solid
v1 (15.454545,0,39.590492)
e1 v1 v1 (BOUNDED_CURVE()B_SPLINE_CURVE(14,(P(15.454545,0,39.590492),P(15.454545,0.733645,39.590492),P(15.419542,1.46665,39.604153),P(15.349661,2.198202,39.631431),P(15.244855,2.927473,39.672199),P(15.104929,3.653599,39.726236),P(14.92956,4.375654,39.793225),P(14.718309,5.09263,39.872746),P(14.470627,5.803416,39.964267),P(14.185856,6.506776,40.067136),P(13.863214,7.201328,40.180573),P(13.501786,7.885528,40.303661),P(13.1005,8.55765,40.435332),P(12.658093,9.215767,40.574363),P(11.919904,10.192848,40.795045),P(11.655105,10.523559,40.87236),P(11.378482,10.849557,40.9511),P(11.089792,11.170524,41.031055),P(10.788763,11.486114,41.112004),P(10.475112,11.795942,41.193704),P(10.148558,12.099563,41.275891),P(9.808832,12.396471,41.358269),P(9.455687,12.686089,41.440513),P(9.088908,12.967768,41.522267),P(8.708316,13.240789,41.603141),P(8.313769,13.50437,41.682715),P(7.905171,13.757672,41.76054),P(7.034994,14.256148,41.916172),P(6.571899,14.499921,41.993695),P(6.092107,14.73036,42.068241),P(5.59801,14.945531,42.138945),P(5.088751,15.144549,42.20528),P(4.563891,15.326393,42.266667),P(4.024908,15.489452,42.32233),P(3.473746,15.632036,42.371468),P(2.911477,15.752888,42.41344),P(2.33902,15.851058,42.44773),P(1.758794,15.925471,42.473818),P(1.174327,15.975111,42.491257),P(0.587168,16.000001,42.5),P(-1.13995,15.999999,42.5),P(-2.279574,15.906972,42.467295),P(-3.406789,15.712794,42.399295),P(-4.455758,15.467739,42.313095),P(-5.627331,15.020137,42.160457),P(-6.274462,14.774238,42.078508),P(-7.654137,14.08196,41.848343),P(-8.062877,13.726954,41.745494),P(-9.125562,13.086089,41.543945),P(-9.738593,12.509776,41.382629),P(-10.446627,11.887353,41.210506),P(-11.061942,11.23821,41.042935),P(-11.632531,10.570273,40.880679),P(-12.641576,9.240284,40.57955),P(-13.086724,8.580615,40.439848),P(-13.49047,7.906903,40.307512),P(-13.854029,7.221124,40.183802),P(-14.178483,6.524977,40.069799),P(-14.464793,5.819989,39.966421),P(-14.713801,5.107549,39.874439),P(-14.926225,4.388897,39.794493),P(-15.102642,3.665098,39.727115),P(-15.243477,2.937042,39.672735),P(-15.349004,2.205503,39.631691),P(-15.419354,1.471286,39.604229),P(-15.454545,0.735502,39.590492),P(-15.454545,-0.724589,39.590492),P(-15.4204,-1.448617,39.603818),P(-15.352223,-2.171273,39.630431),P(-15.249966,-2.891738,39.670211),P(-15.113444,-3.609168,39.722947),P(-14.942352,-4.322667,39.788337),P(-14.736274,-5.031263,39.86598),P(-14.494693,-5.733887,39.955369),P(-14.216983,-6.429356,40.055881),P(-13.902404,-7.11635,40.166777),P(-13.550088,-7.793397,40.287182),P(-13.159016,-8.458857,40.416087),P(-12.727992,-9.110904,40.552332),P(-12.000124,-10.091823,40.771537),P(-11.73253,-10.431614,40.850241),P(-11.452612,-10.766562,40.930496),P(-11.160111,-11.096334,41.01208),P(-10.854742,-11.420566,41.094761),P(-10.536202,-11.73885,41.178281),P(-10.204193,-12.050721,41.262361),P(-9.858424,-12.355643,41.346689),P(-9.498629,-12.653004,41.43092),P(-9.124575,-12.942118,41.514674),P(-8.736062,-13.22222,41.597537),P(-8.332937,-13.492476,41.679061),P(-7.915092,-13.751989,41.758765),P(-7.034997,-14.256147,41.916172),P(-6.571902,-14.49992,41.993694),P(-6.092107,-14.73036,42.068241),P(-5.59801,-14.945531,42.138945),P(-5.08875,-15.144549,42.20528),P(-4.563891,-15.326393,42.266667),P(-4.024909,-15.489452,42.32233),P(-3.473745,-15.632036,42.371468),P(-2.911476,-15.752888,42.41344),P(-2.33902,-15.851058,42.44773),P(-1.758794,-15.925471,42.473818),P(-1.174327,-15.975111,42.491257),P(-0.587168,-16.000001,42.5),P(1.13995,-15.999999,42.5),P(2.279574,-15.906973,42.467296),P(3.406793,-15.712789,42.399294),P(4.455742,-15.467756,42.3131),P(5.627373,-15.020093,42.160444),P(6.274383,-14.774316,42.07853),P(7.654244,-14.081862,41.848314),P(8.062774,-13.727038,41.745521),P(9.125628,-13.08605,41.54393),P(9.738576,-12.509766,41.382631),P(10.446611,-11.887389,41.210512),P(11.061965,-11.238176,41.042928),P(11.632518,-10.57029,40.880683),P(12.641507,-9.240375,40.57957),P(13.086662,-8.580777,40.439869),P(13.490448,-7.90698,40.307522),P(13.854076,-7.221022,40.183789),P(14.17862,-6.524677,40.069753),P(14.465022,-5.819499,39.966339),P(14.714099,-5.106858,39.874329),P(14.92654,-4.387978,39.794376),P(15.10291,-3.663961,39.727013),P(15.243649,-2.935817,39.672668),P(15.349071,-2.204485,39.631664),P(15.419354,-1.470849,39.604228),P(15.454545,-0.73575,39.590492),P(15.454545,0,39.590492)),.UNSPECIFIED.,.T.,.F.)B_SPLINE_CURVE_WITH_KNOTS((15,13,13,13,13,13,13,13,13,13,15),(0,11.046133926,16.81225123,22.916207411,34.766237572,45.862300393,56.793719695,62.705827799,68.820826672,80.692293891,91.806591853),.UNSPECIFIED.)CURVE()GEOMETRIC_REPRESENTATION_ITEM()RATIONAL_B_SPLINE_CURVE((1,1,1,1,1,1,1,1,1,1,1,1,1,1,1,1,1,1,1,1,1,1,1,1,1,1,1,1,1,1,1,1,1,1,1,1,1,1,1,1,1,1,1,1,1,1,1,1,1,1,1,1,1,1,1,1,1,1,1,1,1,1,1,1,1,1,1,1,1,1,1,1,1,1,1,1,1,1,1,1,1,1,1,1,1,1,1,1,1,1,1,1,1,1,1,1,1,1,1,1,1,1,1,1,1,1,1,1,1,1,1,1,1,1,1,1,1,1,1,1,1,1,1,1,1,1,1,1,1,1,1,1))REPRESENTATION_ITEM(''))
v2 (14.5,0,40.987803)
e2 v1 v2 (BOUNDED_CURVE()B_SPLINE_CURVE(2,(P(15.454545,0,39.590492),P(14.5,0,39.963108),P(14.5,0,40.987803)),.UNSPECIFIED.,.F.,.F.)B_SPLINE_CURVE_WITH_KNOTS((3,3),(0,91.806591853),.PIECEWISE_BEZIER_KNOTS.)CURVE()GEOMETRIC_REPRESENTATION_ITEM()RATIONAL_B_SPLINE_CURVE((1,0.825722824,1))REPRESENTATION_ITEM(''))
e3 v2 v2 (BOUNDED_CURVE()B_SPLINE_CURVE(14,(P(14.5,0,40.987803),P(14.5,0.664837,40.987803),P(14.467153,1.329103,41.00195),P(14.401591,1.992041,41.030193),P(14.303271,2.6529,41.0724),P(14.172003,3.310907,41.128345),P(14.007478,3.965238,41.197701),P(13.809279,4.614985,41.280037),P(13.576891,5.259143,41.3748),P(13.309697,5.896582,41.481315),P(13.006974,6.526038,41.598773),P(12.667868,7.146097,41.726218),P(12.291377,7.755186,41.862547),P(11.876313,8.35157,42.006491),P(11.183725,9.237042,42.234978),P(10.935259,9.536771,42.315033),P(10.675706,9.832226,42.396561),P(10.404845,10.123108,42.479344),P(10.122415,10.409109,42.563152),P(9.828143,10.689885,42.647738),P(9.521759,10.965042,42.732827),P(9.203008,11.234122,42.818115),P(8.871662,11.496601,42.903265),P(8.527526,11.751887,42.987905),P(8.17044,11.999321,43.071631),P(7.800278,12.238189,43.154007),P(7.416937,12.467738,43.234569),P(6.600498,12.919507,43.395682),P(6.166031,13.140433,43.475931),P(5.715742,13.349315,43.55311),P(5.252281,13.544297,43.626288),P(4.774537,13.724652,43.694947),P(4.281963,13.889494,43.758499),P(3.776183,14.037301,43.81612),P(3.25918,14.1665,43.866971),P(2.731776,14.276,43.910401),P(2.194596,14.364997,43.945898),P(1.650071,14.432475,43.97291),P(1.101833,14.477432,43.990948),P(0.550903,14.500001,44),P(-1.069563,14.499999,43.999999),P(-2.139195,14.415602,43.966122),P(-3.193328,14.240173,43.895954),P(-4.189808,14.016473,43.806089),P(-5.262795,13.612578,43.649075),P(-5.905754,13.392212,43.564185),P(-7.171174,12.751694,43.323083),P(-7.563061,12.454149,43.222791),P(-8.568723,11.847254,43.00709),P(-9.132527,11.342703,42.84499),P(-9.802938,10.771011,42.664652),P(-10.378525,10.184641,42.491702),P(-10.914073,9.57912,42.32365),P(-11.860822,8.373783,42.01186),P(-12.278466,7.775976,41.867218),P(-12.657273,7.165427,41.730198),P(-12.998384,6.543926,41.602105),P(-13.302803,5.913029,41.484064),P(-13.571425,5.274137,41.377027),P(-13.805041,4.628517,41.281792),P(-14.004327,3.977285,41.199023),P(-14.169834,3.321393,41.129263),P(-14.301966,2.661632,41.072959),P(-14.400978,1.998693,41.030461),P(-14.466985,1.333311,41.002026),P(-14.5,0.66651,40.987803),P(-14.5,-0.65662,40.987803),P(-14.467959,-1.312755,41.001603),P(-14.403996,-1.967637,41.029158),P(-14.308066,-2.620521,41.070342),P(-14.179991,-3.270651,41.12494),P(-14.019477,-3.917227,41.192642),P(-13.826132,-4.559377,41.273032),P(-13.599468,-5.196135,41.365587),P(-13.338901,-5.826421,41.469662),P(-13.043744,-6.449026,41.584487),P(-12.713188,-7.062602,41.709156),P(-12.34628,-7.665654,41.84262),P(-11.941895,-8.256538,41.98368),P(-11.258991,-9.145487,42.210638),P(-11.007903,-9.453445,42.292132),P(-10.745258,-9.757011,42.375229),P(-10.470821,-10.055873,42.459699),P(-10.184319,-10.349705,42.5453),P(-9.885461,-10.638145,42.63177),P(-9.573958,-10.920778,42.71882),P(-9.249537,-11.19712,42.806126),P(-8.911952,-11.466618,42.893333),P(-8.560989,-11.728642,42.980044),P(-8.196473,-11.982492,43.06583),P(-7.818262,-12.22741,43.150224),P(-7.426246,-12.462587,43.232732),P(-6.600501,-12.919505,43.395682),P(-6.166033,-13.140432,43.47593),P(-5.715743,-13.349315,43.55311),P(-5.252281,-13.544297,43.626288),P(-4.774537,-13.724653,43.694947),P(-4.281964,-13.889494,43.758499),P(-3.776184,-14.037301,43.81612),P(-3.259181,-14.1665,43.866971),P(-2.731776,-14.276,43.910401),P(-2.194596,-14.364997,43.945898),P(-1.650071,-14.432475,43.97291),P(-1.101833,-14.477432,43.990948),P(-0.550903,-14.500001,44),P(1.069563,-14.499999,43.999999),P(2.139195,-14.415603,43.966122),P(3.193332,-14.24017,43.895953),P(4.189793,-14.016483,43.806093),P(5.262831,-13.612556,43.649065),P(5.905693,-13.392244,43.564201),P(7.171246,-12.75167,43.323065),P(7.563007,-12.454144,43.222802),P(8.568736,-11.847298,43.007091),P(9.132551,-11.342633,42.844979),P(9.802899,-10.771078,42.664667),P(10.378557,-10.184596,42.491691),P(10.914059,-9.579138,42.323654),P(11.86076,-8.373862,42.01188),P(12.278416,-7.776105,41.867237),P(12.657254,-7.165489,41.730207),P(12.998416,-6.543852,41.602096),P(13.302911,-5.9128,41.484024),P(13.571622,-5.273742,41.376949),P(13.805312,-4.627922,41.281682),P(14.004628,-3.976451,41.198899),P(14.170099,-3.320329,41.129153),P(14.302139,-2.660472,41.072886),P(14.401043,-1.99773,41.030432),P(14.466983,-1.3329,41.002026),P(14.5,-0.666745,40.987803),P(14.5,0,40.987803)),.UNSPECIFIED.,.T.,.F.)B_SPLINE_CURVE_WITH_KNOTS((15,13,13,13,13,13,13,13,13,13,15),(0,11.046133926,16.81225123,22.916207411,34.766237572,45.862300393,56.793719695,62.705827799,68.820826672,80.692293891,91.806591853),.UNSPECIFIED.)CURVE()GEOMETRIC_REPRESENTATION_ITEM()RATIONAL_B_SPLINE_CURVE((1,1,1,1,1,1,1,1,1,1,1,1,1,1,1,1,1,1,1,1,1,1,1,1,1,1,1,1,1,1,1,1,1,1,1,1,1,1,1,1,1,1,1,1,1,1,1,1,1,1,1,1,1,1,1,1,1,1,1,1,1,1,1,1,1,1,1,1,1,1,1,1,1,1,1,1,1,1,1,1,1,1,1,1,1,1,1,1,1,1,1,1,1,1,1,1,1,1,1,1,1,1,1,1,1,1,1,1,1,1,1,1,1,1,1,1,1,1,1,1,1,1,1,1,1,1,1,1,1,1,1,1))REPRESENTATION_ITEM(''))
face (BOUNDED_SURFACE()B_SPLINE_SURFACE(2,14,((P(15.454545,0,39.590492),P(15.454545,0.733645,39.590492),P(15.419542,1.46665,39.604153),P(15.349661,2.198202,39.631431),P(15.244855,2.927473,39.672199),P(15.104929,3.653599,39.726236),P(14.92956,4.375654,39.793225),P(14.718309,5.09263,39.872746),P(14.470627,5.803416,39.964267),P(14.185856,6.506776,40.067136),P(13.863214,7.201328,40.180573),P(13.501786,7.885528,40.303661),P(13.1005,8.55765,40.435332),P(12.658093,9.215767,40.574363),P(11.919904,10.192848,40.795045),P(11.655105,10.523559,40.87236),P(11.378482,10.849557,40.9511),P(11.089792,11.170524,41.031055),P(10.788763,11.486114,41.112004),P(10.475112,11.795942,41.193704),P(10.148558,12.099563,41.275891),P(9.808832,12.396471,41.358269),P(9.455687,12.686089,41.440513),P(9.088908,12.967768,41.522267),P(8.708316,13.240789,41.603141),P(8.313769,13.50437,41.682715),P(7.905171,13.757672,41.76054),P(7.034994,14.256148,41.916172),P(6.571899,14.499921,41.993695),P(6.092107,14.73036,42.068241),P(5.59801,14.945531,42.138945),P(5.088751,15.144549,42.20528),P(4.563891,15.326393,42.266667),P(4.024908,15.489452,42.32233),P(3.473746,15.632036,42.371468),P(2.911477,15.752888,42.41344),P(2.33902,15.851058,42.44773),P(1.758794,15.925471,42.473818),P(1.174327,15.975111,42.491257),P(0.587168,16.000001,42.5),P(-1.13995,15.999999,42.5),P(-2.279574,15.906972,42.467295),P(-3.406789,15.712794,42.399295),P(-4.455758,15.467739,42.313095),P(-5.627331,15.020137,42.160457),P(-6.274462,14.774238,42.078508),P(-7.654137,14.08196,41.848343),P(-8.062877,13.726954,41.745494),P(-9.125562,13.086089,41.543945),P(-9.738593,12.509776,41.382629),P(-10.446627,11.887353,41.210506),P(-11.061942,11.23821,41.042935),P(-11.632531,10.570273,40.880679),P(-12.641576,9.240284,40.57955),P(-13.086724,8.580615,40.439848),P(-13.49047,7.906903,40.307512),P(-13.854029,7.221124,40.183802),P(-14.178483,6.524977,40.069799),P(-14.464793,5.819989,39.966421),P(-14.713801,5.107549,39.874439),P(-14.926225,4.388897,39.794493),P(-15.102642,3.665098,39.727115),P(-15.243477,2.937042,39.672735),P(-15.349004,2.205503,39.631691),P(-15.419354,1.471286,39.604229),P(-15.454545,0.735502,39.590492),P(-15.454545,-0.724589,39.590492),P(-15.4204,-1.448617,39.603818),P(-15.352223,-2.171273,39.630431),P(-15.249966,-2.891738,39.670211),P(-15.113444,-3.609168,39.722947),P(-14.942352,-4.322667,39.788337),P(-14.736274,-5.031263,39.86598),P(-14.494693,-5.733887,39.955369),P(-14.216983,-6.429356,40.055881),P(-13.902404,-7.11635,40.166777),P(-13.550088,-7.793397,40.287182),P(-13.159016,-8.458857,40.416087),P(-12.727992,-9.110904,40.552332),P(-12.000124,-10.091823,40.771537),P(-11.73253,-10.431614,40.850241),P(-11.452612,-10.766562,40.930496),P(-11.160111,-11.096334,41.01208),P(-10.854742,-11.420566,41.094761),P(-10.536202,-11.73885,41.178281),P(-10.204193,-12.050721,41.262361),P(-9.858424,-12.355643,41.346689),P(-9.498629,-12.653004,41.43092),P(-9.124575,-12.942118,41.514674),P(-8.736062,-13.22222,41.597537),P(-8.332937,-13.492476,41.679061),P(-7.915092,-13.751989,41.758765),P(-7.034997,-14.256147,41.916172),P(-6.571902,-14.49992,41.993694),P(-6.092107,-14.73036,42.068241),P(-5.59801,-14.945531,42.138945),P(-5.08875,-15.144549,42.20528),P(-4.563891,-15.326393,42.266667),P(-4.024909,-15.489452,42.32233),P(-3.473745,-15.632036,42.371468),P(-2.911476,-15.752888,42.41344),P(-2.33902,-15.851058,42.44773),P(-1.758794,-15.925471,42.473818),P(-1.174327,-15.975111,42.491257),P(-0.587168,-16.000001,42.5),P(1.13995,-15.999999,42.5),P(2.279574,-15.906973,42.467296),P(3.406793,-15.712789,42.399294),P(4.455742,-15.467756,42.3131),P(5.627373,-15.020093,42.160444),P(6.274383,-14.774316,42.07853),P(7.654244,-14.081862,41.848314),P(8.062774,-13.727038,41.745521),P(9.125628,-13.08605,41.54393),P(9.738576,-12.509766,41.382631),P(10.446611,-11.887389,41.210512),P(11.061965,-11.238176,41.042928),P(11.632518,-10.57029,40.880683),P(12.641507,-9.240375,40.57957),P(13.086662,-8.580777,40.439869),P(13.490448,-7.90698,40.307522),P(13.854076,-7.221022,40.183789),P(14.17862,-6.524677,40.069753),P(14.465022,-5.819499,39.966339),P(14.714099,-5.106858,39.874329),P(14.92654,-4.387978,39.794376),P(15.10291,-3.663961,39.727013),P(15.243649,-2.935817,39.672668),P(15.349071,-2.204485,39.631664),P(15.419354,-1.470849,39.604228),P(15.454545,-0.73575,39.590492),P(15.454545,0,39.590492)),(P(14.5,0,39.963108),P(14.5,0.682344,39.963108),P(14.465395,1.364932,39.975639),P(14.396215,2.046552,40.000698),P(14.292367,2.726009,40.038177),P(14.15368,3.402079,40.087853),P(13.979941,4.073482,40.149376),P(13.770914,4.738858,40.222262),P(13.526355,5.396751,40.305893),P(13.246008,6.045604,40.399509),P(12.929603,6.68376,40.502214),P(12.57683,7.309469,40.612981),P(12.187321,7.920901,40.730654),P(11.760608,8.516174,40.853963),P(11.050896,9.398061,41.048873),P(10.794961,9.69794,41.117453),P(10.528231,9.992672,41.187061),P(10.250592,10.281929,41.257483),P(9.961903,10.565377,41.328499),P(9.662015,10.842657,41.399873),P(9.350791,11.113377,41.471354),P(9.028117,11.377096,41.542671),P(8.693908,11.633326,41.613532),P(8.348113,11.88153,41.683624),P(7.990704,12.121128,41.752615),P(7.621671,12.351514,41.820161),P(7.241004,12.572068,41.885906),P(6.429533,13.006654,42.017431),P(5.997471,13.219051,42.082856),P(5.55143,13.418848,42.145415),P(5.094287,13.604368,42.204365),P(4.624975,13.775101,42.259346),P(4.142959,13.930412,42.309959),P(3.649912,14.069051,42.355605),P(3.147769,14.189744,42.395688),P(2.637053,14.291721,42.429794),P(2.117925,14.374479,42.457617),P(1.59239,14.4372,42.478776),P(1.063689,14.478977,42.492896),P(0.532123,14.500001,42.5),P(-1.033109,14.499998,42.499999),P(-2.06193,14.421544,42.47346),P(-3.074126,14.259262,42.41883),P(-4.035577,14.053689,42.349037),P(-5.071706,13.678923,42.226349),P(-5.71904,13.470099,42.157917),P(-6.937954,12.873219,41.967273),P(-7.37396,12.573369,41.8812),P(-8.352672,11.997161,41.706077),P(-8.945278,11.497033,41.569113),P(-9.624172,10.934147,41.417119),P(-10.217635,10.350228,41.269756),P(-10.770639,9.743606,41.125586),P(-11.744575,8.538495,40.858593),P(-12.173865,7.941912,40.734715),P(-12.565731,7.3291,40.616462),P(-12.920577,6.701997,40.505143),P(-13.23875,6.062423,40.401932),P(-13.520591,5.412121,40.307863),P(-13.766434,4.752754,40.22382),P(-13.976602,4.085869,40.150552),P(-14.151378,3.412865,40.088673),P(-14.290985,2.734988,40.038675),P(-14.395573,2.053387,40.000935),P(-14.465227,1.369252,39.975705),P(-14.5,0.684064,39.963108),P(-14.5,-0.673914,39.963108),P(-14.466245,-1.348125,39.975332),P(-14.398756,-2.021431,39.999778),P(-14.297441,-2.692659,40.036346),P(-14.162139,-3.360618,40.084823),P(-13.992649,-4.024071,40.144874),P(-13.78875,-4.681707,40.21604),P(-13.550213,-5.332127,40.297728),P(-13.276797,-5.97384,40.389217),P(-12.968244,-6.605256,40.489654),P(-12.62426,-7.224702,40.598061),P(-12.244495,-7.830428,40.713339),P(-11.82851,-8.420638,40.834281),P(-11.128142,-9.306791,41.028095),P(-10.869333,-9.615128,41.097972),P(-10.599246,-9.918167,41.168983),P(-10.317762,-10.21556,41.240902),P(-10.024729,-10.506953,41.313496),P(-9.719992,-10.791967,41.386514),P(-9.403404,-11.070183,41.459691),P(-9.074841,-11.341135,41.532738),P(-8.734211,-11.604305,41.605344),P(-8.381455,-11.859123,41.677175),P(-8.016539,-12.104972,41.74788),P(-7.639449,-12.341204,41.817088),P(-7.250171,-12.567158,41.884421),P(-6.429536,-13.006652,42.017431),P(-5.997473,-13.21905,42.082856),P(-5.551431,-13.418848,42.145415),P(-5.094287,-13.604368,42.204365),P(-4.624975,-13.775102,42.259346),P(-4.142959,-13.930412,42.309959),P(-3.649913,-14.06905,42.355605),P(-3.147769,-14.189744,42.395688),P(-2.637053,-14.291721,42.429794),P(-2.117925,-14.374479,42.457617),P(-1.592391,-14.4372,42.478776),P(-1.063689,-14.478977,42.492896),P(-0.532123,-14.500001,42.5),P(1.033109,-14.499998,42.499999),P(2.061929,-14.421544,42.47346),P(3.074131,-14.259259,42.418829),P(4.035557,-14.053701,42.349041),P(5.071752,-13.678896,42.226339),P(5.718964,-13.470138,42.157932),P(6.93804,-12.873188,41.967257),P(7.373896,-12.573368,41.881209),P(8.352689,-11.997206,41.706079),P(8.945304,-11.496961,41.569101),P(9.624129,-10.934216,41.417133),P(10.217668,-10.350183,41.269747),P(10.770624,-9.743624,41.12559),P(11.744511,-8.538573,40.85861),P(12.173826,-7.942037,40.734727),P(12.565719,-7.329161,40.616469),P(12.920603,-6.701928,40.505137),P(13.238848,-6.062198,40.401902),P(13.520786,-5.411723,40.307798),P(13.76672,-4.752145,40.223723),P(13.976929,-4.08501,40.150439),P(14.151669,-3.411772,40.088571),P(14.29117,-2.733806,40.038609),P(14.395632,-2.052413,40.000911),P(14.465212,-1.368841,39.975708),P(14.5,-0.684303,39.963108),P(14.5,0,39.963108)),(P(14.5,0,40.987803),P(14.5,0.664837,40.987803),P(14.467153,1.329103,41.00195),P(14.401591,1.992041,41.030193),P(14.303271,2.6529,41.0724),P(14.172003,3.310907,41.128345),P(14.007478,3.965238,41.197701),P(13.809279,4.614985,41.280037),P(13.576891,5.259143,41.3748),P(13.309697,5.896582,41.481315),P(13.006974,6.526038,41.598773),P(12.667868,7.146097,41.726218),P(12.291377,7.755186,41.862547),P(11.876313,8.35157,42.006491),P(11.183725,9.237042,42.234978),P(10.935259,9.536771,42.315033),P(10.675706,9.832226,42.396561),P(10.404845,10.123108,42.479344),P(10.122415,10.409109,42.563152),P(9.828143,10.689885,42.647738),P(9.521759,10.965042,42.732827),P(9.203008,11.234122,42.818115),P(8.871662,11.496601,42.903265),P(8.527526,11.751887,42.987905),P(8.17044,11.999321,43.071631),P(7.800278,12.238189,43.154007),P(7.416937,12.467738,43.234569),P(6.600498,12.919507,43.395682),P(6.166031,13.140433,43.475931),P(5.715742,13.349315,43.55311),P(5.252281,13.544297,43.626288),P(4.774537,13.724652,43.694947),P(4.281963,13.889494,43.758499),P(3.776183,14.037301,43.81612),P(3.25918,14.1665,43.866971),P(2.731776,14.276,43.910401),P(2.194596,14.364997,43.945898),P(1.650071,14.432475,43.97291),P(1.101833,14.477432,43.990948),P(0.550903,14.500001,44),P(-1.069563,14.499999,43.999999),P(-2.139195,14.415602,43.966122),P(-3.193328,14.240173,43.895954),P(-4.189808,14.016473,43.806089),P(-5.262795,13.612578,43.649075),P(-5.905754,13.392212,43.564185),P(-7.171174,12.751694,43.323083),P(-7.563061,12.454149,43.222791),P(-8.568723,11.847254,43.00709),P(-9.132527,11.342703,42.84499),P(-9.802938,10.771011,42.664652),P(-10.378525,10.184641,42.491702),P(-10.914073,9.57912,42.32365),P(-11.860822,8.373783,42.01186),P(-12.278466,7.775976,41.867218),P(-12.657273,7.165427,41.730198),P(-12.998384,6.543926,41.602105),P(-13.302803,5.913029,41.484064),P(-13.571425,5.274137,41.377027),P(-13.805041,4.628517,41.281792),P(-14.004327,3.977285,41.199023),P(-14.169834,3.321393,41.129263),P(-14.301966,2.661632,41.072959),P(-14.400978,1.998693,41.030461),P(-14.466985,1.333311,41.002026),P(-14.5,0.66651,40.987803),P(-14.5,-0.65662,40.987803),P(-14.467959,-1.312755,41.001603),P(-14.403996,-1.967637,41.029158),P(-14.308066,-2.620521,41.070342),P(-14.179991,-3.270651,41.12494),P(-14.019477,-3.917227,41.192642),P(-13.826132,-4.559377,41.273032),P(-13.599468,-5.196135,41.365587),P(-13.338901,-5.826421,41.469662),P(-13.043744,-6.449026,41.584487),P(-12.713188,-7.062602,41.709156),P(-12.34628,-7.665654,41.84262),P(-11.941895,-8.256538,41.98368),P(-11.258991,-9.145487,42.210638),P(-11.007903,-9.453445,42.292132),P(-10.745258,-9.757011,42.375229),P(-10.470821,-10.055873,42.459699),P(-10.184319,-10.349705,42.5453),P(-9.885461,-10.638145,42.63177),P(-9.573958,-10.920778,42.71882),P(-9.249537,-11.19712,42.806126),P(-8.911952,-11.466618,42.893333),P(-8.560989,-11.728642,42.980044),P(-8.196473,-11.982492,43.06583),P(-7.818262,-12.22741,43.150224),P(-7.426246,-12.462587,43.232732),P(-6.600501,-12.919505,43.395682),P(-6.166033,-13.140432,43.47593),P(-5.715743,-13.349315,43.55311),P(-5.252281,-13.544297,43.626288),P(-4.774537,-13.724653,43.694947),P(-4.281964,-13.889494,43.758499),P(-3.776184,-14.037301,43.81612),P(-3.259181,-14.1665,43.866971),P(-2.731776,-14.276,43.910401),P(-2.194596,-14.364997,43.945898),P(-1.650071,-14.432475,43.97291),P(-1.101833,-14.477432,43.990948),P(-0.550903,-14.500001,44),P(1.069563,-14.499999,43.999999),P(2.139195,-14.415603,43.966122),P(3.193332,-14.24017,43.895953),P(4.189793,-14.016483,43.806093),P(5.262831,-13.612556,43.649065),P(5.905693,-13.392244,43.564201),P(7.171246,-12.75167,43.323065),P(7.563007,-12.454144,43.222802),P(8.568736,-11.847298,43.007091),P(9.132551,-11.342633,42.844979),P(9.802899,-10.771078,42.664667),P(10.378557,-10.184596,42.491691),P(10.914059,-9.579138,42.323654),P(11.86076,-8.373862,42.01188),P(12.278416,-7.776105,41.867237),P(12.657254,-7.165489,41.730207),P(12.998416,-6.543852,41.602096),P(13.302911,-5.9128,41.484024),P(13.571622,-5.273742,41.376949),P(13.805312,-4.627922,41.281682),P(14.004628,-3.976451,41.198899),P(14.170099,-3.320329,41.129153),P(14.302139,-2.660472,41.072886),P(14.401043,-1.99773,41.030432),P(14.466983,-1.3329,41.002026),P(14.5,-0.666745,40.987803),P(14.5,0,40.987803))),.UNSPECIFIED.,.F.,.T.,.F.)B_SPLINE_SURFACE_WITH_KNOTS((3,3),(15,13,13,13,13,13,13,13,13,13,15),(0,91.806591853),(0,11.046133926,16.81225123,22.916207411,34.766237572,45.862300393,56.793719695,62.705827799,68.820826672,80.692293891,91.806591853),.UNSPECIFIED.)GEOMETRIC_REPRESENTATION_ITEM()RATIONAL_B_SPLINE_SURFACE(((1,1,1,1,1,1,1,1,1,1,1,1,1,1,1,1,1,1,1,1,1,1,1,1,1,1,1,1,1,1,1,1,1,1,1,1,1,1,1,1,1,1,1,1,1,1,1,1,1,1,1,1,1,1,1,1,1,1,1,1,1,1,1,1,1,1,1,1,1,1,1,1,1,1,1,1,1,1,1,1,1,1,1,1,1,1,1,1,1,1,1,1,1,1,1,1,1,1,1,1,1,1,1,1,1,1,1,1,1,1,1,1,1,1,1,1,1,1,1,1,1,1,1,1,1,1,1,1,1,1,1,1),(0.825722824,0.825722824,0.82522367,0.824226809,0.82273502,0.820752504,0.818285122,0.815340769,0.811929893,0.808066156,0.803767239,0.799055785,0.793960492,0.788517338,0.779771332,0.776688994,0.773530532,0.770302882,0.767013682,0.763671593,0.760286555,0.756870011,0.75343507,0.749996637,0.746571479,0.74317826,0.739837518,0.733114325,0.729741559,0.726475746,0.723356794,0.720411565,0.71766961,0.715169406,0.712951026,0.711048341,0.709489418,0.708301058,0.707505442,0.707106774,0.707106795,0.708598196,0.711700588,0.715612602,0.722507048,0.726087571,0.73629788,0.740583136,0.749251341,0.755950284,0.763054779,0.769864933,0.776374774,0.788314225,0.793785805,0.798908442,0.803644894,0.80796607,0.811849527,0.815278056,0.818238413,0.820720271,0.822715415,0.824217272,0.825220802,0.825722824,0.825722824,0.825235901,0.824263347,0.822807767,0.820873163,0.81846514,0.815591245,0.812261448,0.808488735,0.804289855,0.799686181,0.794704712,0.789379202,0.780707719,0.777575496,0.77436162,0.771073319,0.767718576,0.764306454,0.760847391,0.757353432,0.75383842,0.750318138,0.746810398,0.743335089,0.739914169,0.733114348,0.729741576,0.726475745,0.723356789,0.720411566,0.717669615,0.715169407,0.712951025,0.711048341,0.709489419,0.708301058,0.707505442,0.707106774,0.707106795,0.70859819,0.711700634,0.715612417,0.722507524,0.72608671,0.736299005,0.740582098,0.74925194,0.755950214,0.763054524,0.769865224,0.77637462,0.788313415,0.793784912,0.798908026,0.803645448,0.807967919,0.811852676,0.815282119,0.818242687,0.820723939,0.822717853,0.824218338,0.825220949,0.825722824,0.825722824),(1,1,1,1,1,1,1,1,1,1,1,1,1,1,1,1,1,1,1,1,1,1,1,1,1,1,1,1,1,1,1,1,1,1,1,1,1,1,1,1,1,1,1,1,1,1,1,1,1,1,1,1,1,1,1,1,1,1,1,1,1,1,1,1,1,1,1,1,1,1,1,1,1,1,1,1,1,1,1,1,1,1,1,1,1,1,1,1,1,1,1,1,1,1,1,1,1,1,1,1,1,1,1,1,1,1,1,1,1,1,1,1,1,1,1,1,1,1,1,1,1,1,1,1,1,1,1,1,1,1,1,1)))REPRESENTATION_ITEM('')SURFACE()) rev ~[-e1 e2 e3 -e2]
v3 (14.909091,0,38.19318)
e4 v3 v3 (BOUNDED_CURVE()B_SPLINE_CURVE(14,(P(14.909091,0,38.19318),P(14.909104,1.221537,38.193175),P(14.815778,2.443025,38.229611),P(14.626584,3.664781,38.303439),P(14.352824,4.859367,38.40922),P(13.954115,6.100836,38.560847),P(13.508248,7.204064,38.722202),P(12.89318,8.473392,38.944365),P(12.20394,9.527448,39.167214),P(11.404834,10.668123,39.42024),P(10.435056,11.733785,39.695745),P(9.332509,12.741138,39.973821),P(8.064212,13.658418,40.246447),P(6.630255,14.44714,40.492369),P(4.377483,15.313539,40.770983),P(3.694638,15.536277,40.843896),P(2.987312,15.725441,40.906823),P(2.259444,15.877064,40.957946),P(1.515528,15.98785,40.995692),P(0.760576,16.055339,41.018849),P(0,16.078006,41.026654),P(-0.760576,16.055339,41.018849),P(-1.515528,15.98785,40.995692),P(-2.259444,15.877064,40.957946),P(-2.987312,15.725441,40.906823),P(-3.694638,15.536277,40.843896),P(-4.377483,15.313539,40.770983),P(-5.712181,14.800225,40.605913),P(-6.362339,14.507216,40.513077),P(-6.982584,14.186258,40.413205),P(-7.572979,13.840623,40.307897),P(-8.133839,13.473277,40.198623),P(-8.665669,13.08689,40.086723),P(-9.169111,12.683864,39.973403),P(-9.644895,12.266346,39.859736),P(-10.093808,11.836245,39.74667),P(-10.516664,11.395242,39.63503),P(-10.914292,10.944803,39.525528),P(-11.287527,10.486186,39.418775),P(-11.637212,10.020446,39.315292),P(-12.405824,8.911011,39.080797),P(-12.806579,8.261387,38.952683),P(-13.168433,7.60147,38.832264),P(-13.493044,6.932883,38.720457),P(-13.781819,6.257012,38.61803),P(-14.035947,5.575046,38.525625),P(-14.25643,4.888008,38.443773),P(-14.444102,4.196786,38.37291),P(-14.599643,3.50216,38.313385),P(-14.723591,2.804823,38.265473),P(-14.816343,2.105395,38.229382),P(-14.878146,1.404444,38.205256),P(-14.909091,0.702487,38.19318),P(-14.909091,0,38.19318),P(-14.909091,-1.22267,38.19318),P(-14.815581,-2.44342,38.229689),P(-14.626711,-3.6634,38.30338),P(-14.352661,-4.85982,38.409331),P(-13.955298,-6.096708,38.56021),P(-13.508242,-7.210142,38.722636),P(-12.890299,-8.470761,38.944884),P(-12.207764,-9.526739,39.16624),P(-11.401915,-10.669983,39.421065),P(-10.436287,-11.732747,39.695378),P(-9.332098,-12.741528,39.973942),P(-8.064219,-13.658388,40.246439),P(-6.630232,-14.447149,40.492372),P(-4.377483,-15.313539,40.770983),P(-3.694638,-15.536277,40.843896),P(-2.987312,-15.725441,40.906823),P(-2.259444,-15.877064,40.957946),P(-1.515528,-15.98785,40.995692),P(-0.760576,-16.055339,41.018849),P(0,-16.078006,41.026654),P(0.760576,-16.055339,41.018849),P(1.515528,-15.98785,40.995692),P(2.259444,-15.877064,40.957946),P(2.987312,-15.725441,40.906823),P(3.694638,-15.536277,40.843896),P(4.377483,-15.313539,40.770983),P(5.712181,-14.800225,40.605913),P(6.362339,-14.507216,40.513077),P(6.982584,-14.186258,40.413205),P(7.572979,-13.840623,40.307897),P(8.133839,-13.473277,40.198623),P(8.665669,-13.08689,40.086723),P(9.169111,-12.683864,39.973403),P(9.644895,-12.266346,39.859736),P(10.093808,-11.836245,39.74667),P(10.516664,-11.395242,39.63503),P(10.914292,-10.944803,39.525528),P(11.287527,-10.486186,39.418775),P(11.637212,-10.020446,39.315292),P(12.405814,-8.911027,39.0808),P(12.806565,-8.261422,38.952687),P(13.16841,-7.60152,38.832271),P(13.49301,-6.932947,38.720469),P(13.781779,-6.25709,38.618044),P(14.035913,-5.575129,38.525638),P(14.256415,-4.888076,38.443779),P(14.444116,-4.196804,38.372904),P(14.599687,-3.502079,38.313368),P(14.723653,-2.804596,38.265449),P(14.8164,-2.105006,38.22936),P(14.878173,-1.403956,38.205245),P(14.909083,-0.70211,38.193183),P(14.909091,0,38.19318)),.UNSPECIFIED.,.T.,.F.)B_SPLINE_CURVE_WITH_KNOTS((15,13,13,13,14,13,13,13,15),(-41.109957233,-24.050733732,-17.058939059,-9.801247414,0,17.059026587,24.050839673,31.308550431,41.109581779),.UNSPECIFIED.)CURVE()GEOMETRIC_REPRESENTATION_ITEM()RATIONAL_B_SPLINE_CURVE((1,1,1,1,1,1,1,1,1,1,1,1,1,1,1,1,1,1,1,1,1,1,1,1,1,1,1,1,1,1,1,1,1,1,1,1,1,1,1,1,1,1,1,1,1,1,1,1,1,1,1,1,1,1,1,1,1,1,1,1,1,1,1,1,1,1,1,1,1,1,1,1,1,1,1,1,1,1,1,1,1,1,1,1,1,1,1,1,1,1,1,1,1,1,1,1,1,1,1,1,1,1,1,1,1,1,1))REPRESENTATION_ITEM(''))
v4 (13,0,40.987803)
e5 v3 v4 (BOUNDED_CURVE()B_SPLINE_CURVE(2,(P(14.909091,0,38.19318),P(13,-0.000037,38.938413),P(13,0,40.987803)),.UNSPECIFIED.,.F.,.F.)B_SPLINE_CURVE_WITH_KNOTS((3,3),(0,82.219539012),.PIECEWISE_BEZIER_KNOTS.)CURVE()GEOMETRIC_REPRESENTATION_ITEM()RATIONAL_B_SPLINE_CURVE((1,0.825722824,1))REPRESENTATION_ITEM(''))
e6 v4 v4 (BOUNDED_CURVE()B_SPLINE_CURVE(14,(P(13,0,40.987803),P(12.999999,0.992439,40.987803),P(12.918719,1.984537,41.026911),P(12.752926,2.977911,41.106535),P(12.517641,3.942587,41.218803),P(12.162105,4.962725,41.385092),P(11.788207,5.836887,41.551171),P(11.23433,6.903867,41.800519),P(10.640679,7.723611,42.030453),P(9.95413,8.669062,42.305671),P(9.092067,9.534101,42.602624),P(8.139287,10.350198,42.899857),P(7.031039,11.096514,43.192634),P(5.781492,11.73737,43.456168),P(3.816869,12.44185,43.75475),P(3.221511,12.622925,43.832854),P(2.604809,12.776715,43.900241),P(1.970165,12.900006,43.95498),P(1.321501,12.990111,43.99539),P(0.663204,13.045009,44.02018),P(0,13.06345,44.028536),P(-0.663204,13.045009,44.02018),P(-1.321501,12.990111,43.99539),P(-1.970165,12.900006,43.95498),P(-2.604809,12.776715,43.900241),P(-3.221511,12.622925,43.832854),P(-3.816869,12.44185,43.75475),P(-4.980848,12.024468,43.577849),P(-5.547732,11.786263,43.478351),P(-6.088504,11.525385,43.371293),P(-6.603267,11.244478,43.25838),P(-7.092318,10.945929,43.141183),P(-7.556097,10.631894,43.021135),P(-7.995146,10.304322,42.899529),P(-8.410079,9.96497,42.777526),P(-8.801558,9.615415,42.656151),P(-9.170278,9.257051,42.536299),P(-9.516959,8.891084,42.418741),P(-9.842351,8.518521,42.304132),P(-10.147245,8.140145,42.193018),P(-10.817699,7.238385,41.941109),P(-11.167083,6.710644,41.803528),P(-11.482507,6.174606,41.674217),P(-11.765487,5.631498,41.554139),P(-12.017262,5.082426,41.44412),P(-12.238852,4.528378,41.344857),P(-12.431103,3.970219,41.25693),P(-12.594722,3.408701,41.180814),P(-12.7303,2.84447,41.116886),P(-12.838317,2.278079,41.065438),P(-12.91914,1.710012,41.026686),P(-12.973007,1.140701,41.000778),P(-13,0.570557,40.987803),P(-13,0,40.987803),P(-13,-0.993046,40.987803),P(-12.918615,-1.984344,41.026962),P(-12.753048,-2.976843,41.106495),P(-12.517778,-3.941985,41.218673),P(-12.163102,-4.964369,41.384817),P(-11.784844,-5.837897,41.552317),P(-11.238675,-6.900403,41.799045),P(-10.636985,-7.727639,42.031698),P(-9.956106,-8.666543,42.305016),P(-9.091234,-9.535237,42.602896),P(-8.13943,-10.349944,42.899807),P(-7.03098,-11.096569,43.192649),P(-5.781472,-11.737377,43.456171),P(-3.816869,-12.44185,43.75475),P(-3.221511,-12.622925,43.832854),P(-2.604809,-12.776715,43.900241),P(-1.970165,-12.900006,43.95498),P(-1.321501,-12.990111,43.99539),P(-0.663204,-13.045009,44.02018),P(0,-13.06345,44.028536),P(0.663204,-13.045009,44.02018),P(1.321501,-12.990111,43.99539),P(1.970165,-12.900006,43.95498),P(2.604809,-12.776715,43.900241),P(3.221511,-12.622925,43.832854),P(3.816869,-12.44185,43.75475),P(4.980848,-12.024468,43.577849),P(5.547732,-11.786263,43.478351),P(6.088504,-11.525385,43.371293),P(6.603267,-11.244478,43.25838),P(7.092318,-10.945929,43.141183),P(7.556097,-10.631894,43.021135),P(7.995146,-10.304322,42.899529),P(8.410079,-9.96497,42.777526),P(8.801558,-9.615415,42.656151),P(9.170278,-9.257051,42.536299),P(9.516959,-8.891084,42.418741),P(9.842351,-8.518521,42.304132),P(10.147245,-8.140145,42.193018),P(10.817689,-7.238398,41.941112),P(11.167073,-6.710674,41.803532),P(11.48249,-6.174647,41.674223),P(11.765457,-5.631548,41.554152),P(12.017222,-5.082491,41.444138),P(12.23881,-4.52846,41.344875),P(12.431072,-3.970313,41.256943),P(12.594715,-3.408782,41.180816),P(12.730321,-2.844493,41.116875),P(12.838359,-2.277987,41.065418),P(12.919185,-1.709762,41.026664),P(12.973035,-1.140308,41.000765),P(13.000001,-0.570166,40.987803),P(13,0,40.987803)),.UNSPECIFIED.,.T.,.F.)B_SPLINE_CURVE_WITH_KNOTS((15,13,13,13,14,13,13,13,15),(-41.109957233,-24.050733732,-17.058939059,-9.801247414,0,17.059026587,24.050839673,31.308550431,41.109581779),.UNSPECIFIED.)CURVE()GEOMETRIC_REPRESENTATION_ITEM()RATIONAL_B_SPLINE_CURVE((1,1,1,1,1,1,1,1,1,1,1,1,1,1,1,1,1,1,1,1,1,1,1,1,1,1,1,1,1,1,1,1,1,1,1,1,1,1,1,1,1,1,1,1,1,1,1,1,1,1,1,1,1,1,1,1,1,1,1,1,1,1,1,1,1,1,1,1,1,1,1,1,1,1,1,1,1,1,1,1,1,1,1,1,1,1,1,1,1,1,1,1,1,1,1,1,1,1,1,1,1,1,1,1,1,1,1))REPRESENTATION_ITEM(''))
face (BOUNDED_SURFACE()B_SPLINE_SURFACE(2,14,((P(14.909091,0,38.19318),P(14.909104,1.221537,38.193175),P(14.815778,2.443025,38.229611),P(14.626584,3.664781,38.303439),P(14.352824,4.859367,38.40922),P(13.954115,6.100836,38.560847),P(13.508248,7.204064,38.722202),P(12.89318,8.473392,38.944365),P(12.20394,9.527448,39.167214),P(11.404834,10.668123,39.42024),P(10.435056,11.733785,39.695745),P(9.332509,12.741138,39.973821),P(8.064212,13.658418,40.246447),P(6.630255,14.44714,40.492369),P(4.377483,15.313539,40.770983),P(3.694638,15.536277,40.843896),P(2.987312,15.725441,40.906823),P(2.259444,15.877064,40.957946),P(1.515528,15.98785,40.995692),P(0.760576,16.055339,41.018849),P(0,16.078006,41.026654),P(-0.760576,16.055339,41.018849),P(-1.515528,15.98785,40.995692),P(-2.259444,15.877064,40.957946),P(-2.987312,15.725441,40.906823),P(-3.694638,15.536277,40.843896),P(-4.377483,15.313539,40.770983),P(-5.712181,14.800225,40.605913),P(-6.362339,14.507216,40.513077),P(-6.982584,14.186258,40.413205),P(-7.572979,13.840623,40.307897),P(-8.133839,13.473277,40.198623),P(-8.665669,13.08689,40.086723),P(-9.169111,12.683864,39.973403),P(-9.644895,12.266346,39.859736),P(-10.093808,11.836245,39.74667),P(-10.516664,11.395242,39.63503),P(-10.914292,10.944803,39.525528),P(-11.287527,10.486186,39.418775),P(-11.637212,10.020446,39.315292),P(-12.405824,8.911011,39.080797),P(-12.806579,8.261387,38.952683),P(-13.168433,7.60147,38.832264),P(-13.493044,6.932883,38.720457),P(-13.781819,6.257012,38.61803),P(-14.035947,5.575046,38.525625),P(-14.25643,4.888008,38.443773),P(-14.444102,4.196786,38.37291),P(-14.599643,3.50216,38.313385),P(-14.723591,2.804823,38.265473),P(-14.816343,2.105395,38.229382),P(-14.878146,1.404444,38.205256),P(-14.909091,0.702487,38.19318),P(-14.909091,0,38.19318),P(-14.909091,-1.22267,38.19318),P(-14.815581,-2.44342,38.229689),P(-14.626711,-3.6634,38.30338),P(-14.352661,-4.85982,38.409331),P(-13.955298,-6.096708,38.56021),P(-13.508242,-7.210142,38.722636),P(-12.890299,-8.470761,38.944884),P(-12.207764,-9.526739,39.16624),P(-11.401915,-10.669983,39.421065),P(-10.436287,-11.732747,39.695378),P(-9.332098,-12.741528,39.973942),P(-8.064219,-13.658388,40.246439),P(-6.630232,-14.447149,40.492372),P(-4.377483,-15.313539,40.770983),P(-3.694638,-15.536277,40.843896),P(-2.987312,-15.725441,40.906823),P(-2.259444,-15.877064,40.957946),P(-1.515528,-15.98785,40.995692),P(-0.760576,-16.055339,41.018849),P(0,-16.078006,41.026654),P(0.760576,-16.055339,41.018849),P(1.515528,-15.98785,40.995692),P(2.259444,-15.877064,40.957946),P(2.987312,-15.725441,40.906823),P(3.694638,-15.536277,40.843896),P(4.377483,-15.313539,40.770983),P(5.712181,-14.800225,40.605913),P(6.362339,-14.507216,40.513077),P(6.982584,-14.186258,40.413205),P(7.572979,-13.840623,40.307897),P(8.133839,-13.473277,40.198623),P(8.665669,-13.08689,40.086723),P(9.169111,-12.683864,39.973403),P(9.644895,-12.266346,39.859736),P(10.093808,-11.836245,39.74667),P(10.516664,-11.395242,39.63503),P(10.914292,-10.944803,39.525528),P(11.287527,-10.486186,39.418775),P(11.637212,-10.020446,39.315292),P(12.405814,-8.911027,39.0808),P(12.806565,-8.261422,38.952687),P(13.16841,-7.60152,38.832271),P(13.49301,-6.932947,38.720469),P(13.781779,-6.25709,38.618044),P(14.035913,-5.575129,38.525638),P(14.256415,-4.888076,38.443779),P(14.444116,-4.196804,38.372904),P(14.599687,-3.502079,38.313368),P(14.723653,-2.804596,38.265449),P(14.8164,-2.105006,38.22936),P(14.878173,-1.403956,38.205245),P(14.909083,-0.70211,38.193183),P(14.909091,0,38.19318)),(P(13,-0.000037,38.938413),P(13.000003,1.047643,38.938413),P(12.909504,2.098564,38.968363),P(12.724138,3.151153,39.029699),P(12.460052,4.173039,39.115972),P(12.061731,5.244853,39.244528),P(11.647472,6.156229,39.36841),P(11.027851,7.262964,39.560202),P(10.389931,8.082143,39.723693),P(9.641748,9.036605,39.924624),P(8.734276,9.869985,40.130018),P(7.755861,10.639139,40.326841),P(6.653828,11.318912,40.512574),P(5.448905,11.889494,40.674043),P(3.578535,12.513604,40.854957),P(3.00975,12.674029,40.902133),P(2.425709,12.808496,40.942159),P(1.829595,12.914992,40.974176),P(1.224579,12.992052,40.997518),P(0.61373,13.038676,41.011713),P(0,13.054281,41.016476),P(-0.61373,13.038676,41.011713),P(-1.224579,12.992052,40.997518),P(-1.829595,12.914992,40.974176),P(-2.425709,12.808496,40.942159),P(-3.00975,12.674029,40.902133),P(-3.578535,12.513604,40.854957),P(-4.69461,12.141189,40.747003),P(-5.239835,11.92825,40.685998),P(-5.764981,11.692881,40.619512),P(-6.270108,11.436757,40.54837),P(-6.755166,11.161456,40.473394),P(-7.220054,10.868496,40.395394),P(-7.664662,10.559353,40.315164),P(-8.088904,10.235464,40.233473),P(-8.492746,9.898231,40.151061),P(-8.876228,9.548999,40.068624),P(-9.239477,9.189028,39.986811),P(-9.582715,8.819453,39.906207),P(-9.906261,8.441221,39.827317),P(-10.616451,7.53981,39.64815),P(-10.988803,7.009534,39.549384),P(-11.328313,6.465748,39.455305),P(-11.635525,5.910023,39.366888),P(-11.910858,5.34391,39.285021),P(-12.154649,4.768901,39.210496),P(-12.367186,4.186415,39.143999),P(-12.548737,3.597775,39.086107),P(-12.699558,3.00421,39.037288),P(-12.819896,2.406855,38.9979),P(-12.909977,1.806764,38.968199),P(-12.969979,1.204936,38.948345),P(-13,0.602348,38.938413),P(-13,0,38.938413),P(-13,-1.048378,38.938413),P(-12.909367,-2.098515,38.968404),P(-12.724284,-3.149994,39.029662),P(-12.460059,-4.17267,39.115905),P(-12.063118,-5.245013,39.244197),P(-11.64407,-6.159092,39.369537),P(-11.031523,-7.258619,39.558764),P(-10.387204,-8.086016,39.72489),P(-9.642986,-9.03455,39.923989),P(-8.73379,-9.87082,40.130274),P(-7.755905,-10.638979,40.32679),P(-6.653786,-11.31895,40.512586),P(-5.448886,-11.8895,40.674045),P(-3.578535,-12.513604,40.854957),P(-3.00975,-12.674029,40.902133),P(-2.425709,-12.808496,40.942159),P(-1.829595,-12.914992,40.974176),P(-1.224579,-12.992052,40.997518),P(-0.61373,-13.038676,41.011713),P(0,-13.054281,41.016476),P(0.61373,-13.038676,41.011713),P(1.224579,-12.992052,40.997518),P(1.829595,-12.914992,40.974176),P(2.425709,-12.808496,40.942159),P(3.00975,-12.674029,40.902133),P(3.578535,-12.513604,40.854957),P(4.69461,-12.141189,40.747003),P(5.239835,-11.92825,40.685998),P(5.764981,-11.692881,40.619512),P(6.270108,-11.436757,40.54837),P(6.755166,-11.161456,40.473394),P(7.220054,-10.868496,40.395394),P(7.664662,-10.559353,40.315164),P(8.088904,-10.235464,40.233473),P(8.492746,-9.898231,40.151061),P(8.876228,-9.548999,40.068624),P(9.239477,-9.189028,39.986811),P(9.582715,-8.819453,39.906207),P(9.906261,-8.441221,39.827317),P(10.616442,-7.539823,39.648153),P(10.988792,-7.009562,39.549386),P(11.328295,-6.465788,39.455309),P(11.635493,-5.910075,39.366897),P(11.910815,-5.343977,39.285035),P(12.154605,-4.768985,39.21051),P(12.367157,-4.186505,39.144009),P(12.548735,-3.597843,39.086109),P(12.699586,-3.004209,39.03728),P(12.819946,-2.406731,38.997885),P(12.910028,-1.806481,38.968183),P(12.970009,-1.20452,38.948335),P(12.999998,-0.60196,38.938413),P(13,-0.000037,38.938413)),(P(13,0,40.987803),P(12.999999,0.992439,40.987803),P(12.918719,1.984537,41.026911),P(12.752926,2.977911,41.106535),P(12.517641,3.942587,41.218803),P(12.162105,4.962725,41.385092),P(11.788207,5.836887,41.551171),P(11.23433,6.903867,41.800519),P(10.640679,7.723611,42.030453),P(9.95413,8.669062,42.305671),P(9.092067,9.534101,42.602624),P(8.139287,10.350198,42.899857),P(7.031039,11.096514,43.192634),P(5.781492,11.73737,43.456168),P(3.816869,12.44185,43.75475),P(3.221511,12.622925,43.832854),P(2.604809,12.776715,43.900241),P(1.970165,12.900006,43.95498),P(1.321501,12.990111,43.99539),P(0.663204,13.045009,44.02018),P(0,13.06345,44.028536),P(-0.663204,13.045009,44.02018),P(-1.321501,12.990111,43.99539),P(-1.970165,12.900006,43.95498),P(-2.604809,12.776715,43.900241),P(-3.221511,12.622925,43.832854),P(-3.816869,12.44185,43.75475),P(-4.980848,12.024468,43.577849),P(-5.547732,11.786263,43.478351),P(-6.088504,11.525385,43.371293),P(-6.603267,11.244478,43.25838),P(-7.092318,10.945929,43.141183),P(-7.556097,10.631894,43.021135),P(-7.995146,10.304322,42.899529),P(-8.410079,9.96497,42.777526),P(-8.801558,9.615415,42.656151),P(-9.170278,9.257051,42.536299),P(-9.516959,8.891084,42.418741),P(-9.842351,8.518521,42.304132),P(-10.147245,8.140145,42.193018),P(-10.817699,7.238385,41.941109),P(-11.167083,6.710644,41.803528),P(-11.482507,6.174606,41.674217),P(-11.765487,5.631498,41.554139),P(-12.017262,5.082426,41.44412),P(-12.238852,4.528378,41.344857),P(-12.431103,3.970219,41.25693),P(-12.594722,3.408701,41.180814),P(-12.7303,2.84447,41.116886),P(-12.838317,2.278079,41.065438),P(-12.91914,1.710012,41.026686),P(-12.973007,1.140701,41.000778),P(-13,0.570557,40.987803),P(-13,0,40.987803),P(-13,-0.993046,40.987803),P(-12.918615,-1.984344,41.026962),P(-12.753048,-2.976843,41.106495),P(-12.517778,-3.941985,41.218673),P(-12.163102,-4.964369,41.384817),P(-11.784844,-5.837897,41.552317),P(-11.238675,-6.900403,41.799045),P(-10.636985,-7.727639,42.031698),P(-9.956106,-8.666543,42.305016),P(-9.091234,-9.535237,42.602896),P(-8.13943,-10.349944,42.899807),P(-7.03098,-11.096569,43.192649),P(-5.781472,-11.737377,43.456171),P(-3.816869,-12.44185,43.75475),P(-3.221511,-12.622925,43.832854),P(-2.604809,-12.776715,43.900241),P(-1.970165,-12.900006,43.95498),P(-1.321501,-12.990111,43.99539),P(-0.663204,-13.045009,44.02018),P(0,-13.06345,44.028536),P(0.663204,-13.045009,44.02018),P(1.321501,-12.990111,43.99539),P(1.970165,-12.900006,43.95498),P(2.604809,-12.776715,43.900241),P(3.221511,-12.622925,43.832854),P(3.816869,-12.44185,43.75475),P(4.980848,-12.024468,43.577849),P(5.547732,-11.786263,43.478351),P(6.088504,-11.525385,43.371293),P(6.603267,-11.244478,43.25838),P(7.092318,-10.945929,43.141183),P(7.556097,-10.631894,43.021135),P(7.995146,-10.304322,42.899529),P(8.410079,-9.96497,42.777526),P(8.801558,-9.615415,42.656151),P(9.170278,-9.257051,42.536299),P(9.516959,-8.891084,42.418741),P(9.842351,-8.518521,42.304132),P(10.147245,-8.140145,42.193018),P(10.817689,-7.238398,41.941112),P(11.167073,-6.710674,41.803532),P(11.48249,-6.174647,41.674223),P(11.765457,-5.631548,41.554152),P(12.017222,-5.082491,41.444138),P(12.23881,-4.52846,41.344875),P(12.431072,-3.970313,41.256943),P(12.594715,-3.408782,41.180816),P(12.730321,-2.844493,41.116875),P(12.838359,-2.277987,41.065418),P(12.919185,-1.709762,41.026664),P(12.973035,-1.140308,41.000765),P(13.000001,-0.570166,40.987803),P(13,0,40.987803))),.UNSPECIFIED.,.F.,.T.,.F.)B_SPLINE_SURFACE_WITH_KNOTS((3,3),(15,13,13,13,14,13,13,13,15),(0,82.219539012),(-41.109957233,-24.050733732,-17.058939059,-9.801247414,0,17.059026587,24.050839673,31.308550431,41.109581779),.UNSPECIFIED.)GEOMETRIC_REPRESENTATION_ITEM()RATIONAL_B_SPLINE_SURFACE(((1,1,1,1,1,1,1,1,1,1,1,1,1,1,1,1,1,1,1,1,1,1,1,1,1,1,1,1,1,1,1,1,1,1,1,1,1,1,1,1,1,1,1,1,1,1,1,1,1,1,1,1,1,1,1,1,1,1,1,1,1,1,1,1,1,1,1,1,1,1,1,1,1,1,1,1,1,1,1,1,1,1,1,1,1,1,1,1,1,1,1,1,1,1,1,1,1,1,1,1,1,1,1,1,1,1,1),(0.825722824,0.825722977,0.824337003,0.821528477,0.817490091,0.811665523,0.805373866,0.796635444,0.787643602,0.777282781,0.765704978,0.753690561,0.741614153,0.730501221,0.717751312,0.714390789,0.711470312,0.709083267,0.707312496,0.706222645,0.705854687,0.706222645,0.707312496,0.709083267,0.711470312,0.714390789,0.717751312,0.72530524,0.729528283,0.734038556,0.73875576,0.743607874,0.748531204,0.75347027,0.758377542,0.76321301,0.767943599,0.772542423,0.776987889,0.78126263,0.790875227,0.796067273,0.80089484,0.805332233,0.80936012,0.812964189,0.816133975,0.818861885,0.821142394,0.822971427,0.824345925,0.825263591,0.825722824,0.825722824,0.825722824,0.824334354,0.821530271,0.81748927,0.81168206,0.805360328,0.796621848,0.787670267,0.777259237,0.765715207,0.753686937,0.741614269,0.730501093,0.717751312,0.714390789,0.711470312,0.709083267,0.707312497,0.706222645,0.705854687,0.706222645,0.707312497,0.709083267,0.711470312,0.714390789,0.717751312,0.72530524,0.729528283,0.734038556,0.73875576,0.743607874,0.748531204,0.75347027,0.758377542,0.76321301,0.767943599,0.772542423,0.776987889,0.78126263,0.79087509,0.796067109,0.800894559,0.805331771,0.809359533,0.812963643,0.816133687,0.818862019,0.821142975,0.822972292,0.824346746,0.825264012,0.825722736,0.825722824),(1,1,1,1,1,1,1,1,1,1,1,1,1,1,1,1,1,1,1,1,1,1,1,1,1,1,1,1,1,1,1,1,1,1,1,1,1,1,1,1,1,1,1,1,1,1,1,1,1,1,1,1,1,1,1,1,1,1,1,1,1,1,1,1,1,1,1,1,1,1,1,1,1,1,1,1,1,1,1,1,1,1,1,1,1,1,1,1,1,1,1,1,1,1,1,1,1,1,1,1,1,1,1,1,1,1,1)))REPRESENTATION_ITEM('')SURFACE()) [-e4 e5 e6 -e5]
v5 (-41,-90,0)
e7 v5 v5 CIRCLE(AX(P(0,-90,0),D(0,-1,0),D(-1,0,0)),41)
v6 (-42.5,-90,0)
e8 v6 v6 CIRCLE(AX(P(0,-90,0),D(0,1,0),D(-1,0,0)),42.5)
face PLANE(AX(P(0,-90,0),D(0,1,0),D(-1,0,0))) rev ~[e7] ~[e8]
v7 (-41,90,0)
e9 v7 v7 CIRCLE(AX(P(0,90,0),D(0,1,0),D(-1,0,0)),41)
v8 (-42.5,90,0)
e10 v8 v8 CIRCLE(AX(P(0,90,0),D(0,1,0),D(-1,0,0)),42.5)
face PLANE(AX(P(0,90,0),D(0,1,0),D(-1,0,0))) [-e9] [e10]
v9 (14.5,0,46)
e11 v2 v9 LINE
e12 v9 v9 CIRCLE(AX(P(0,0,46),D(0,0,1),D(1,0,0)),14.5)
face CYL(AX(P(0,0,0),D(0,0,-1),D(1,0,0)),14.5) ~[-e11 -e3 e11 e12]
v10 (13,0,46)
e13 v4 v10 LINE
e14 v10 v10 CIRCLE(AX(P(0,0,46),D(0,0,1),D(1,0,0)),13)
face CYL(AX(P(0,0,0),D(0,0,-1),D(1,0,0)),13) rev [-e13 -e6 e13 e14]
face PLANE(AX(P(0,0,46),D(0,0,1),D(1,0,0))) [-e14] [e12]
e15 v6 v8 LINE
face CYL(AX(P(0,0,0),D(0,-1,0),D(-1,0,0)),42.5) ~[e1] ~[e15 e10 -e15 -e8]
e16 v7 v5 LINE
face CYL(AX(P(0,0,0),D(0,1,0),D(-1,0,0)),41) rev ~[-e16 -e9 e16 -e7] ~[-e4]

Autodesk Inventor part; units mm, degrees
ref_plane "YZ Plane" through (0, 0, 0) normal (1, 0, 0) x (0, 1, 0)
ref_plane "XZ Plane" through (0, 0, 0) normal (0, 1, 0) x (-1, 0, 0)
ref_plane "XY Plane" through (0, 0, 0) normal (0, 0, 1) x (1, 0, 0)
sketch "Szkic8" plane through (0, 0, 0) normal (0, 1, 0) x (-1, 0, 0)
  circle A0 centre (0, 0) radius 42.5
  circle A1 centre (0, 0) radius 41
  dimension "d53" = 85
  dimension "d54" = 1.5
extrude "Wyciągnięcie proste2" add sketch "Szkic8" along normal mid plane 180
sketch "Szkic13" plane through (0, 0, 0) normal (0, 0, 1) x (1, 0, 0)
  circle A0 centre (0, 0) radius 14.5
  circle A1 centre (0, 0) radius 13
  dimension "d67" = 29
  dimension "d68" = 1.5
extrude "Wyciągnięcie proste6" add sketch "Szkic13" along normal blind 46
sketch "Szkic14" plane through (0, 0, 46) normal (0, 0, 1) x (1, 0, 0)
  circle A0 centre (0, 0) radius 13 projected
extrude "Wyciągnięcie proste7" cut sketch "Szkic14" against normal blind 46
sketch "Szkic15" plane through (0, -90, 0) normal (0, -1, 0) x (1, 0, 0)
  circle A0 centre (0, 0) radius 41 projected
extrude "Wyciągnięcie proste8" cut sketch "Szkic15" against normal blind 180
fillet "Zaokrąglenie3" radius 1.5 2 edges at (-0.0182, 14.5, 42.5) (0.0171, -14.5, 42.5)
fillet "Zaokrąglenie4" radius 3 2 edges at (0, -13, 41) (0, 13, 41)
equation "\"d53\" = OD"
equation "\"d54\" = THK"
equation "\"d55\" = L1"
equation "\"d67\" = OD2"
equation "\"d68\" = THK"
equation "\"d69\" = L2"
equation "\"d71\" = L2"
equation "\"d73\" = L1"
equation "\"d75\" = THK"
equation "\"d76\" = 2 * THK"
equation "\"SzerokośćGięciaPodcięcia\" = Grubość"
equation "\"RozmiarPodcięciaNarożnika\" = 4 * Grubość"
equation "\"PromieńPrzejścia\" = PromieńGięcia"
equation "\"Rozmiar_promienia_Jacobiego\" = PromieńGięcia"
equation "\"Wielk_odstępu\" = Grubość"
equation "\"d2\" = PromieńGięcia"
equation "\"d23\" = PromieńGięcia"
equation "\"OD\" = 85"
equation "\"THK\" = 1.5"
equation "\"L1\" = 180"
equation "\"L2\" = 46"
equation "\"OD2\" = 29"
equation "\"Grubość\" = 1.5"
equation "\"PromieńGięcia\" = 3"
properties part number "Trójnik red. krótki  Ø85 29 85 s=1,5 L=180" material "304"
